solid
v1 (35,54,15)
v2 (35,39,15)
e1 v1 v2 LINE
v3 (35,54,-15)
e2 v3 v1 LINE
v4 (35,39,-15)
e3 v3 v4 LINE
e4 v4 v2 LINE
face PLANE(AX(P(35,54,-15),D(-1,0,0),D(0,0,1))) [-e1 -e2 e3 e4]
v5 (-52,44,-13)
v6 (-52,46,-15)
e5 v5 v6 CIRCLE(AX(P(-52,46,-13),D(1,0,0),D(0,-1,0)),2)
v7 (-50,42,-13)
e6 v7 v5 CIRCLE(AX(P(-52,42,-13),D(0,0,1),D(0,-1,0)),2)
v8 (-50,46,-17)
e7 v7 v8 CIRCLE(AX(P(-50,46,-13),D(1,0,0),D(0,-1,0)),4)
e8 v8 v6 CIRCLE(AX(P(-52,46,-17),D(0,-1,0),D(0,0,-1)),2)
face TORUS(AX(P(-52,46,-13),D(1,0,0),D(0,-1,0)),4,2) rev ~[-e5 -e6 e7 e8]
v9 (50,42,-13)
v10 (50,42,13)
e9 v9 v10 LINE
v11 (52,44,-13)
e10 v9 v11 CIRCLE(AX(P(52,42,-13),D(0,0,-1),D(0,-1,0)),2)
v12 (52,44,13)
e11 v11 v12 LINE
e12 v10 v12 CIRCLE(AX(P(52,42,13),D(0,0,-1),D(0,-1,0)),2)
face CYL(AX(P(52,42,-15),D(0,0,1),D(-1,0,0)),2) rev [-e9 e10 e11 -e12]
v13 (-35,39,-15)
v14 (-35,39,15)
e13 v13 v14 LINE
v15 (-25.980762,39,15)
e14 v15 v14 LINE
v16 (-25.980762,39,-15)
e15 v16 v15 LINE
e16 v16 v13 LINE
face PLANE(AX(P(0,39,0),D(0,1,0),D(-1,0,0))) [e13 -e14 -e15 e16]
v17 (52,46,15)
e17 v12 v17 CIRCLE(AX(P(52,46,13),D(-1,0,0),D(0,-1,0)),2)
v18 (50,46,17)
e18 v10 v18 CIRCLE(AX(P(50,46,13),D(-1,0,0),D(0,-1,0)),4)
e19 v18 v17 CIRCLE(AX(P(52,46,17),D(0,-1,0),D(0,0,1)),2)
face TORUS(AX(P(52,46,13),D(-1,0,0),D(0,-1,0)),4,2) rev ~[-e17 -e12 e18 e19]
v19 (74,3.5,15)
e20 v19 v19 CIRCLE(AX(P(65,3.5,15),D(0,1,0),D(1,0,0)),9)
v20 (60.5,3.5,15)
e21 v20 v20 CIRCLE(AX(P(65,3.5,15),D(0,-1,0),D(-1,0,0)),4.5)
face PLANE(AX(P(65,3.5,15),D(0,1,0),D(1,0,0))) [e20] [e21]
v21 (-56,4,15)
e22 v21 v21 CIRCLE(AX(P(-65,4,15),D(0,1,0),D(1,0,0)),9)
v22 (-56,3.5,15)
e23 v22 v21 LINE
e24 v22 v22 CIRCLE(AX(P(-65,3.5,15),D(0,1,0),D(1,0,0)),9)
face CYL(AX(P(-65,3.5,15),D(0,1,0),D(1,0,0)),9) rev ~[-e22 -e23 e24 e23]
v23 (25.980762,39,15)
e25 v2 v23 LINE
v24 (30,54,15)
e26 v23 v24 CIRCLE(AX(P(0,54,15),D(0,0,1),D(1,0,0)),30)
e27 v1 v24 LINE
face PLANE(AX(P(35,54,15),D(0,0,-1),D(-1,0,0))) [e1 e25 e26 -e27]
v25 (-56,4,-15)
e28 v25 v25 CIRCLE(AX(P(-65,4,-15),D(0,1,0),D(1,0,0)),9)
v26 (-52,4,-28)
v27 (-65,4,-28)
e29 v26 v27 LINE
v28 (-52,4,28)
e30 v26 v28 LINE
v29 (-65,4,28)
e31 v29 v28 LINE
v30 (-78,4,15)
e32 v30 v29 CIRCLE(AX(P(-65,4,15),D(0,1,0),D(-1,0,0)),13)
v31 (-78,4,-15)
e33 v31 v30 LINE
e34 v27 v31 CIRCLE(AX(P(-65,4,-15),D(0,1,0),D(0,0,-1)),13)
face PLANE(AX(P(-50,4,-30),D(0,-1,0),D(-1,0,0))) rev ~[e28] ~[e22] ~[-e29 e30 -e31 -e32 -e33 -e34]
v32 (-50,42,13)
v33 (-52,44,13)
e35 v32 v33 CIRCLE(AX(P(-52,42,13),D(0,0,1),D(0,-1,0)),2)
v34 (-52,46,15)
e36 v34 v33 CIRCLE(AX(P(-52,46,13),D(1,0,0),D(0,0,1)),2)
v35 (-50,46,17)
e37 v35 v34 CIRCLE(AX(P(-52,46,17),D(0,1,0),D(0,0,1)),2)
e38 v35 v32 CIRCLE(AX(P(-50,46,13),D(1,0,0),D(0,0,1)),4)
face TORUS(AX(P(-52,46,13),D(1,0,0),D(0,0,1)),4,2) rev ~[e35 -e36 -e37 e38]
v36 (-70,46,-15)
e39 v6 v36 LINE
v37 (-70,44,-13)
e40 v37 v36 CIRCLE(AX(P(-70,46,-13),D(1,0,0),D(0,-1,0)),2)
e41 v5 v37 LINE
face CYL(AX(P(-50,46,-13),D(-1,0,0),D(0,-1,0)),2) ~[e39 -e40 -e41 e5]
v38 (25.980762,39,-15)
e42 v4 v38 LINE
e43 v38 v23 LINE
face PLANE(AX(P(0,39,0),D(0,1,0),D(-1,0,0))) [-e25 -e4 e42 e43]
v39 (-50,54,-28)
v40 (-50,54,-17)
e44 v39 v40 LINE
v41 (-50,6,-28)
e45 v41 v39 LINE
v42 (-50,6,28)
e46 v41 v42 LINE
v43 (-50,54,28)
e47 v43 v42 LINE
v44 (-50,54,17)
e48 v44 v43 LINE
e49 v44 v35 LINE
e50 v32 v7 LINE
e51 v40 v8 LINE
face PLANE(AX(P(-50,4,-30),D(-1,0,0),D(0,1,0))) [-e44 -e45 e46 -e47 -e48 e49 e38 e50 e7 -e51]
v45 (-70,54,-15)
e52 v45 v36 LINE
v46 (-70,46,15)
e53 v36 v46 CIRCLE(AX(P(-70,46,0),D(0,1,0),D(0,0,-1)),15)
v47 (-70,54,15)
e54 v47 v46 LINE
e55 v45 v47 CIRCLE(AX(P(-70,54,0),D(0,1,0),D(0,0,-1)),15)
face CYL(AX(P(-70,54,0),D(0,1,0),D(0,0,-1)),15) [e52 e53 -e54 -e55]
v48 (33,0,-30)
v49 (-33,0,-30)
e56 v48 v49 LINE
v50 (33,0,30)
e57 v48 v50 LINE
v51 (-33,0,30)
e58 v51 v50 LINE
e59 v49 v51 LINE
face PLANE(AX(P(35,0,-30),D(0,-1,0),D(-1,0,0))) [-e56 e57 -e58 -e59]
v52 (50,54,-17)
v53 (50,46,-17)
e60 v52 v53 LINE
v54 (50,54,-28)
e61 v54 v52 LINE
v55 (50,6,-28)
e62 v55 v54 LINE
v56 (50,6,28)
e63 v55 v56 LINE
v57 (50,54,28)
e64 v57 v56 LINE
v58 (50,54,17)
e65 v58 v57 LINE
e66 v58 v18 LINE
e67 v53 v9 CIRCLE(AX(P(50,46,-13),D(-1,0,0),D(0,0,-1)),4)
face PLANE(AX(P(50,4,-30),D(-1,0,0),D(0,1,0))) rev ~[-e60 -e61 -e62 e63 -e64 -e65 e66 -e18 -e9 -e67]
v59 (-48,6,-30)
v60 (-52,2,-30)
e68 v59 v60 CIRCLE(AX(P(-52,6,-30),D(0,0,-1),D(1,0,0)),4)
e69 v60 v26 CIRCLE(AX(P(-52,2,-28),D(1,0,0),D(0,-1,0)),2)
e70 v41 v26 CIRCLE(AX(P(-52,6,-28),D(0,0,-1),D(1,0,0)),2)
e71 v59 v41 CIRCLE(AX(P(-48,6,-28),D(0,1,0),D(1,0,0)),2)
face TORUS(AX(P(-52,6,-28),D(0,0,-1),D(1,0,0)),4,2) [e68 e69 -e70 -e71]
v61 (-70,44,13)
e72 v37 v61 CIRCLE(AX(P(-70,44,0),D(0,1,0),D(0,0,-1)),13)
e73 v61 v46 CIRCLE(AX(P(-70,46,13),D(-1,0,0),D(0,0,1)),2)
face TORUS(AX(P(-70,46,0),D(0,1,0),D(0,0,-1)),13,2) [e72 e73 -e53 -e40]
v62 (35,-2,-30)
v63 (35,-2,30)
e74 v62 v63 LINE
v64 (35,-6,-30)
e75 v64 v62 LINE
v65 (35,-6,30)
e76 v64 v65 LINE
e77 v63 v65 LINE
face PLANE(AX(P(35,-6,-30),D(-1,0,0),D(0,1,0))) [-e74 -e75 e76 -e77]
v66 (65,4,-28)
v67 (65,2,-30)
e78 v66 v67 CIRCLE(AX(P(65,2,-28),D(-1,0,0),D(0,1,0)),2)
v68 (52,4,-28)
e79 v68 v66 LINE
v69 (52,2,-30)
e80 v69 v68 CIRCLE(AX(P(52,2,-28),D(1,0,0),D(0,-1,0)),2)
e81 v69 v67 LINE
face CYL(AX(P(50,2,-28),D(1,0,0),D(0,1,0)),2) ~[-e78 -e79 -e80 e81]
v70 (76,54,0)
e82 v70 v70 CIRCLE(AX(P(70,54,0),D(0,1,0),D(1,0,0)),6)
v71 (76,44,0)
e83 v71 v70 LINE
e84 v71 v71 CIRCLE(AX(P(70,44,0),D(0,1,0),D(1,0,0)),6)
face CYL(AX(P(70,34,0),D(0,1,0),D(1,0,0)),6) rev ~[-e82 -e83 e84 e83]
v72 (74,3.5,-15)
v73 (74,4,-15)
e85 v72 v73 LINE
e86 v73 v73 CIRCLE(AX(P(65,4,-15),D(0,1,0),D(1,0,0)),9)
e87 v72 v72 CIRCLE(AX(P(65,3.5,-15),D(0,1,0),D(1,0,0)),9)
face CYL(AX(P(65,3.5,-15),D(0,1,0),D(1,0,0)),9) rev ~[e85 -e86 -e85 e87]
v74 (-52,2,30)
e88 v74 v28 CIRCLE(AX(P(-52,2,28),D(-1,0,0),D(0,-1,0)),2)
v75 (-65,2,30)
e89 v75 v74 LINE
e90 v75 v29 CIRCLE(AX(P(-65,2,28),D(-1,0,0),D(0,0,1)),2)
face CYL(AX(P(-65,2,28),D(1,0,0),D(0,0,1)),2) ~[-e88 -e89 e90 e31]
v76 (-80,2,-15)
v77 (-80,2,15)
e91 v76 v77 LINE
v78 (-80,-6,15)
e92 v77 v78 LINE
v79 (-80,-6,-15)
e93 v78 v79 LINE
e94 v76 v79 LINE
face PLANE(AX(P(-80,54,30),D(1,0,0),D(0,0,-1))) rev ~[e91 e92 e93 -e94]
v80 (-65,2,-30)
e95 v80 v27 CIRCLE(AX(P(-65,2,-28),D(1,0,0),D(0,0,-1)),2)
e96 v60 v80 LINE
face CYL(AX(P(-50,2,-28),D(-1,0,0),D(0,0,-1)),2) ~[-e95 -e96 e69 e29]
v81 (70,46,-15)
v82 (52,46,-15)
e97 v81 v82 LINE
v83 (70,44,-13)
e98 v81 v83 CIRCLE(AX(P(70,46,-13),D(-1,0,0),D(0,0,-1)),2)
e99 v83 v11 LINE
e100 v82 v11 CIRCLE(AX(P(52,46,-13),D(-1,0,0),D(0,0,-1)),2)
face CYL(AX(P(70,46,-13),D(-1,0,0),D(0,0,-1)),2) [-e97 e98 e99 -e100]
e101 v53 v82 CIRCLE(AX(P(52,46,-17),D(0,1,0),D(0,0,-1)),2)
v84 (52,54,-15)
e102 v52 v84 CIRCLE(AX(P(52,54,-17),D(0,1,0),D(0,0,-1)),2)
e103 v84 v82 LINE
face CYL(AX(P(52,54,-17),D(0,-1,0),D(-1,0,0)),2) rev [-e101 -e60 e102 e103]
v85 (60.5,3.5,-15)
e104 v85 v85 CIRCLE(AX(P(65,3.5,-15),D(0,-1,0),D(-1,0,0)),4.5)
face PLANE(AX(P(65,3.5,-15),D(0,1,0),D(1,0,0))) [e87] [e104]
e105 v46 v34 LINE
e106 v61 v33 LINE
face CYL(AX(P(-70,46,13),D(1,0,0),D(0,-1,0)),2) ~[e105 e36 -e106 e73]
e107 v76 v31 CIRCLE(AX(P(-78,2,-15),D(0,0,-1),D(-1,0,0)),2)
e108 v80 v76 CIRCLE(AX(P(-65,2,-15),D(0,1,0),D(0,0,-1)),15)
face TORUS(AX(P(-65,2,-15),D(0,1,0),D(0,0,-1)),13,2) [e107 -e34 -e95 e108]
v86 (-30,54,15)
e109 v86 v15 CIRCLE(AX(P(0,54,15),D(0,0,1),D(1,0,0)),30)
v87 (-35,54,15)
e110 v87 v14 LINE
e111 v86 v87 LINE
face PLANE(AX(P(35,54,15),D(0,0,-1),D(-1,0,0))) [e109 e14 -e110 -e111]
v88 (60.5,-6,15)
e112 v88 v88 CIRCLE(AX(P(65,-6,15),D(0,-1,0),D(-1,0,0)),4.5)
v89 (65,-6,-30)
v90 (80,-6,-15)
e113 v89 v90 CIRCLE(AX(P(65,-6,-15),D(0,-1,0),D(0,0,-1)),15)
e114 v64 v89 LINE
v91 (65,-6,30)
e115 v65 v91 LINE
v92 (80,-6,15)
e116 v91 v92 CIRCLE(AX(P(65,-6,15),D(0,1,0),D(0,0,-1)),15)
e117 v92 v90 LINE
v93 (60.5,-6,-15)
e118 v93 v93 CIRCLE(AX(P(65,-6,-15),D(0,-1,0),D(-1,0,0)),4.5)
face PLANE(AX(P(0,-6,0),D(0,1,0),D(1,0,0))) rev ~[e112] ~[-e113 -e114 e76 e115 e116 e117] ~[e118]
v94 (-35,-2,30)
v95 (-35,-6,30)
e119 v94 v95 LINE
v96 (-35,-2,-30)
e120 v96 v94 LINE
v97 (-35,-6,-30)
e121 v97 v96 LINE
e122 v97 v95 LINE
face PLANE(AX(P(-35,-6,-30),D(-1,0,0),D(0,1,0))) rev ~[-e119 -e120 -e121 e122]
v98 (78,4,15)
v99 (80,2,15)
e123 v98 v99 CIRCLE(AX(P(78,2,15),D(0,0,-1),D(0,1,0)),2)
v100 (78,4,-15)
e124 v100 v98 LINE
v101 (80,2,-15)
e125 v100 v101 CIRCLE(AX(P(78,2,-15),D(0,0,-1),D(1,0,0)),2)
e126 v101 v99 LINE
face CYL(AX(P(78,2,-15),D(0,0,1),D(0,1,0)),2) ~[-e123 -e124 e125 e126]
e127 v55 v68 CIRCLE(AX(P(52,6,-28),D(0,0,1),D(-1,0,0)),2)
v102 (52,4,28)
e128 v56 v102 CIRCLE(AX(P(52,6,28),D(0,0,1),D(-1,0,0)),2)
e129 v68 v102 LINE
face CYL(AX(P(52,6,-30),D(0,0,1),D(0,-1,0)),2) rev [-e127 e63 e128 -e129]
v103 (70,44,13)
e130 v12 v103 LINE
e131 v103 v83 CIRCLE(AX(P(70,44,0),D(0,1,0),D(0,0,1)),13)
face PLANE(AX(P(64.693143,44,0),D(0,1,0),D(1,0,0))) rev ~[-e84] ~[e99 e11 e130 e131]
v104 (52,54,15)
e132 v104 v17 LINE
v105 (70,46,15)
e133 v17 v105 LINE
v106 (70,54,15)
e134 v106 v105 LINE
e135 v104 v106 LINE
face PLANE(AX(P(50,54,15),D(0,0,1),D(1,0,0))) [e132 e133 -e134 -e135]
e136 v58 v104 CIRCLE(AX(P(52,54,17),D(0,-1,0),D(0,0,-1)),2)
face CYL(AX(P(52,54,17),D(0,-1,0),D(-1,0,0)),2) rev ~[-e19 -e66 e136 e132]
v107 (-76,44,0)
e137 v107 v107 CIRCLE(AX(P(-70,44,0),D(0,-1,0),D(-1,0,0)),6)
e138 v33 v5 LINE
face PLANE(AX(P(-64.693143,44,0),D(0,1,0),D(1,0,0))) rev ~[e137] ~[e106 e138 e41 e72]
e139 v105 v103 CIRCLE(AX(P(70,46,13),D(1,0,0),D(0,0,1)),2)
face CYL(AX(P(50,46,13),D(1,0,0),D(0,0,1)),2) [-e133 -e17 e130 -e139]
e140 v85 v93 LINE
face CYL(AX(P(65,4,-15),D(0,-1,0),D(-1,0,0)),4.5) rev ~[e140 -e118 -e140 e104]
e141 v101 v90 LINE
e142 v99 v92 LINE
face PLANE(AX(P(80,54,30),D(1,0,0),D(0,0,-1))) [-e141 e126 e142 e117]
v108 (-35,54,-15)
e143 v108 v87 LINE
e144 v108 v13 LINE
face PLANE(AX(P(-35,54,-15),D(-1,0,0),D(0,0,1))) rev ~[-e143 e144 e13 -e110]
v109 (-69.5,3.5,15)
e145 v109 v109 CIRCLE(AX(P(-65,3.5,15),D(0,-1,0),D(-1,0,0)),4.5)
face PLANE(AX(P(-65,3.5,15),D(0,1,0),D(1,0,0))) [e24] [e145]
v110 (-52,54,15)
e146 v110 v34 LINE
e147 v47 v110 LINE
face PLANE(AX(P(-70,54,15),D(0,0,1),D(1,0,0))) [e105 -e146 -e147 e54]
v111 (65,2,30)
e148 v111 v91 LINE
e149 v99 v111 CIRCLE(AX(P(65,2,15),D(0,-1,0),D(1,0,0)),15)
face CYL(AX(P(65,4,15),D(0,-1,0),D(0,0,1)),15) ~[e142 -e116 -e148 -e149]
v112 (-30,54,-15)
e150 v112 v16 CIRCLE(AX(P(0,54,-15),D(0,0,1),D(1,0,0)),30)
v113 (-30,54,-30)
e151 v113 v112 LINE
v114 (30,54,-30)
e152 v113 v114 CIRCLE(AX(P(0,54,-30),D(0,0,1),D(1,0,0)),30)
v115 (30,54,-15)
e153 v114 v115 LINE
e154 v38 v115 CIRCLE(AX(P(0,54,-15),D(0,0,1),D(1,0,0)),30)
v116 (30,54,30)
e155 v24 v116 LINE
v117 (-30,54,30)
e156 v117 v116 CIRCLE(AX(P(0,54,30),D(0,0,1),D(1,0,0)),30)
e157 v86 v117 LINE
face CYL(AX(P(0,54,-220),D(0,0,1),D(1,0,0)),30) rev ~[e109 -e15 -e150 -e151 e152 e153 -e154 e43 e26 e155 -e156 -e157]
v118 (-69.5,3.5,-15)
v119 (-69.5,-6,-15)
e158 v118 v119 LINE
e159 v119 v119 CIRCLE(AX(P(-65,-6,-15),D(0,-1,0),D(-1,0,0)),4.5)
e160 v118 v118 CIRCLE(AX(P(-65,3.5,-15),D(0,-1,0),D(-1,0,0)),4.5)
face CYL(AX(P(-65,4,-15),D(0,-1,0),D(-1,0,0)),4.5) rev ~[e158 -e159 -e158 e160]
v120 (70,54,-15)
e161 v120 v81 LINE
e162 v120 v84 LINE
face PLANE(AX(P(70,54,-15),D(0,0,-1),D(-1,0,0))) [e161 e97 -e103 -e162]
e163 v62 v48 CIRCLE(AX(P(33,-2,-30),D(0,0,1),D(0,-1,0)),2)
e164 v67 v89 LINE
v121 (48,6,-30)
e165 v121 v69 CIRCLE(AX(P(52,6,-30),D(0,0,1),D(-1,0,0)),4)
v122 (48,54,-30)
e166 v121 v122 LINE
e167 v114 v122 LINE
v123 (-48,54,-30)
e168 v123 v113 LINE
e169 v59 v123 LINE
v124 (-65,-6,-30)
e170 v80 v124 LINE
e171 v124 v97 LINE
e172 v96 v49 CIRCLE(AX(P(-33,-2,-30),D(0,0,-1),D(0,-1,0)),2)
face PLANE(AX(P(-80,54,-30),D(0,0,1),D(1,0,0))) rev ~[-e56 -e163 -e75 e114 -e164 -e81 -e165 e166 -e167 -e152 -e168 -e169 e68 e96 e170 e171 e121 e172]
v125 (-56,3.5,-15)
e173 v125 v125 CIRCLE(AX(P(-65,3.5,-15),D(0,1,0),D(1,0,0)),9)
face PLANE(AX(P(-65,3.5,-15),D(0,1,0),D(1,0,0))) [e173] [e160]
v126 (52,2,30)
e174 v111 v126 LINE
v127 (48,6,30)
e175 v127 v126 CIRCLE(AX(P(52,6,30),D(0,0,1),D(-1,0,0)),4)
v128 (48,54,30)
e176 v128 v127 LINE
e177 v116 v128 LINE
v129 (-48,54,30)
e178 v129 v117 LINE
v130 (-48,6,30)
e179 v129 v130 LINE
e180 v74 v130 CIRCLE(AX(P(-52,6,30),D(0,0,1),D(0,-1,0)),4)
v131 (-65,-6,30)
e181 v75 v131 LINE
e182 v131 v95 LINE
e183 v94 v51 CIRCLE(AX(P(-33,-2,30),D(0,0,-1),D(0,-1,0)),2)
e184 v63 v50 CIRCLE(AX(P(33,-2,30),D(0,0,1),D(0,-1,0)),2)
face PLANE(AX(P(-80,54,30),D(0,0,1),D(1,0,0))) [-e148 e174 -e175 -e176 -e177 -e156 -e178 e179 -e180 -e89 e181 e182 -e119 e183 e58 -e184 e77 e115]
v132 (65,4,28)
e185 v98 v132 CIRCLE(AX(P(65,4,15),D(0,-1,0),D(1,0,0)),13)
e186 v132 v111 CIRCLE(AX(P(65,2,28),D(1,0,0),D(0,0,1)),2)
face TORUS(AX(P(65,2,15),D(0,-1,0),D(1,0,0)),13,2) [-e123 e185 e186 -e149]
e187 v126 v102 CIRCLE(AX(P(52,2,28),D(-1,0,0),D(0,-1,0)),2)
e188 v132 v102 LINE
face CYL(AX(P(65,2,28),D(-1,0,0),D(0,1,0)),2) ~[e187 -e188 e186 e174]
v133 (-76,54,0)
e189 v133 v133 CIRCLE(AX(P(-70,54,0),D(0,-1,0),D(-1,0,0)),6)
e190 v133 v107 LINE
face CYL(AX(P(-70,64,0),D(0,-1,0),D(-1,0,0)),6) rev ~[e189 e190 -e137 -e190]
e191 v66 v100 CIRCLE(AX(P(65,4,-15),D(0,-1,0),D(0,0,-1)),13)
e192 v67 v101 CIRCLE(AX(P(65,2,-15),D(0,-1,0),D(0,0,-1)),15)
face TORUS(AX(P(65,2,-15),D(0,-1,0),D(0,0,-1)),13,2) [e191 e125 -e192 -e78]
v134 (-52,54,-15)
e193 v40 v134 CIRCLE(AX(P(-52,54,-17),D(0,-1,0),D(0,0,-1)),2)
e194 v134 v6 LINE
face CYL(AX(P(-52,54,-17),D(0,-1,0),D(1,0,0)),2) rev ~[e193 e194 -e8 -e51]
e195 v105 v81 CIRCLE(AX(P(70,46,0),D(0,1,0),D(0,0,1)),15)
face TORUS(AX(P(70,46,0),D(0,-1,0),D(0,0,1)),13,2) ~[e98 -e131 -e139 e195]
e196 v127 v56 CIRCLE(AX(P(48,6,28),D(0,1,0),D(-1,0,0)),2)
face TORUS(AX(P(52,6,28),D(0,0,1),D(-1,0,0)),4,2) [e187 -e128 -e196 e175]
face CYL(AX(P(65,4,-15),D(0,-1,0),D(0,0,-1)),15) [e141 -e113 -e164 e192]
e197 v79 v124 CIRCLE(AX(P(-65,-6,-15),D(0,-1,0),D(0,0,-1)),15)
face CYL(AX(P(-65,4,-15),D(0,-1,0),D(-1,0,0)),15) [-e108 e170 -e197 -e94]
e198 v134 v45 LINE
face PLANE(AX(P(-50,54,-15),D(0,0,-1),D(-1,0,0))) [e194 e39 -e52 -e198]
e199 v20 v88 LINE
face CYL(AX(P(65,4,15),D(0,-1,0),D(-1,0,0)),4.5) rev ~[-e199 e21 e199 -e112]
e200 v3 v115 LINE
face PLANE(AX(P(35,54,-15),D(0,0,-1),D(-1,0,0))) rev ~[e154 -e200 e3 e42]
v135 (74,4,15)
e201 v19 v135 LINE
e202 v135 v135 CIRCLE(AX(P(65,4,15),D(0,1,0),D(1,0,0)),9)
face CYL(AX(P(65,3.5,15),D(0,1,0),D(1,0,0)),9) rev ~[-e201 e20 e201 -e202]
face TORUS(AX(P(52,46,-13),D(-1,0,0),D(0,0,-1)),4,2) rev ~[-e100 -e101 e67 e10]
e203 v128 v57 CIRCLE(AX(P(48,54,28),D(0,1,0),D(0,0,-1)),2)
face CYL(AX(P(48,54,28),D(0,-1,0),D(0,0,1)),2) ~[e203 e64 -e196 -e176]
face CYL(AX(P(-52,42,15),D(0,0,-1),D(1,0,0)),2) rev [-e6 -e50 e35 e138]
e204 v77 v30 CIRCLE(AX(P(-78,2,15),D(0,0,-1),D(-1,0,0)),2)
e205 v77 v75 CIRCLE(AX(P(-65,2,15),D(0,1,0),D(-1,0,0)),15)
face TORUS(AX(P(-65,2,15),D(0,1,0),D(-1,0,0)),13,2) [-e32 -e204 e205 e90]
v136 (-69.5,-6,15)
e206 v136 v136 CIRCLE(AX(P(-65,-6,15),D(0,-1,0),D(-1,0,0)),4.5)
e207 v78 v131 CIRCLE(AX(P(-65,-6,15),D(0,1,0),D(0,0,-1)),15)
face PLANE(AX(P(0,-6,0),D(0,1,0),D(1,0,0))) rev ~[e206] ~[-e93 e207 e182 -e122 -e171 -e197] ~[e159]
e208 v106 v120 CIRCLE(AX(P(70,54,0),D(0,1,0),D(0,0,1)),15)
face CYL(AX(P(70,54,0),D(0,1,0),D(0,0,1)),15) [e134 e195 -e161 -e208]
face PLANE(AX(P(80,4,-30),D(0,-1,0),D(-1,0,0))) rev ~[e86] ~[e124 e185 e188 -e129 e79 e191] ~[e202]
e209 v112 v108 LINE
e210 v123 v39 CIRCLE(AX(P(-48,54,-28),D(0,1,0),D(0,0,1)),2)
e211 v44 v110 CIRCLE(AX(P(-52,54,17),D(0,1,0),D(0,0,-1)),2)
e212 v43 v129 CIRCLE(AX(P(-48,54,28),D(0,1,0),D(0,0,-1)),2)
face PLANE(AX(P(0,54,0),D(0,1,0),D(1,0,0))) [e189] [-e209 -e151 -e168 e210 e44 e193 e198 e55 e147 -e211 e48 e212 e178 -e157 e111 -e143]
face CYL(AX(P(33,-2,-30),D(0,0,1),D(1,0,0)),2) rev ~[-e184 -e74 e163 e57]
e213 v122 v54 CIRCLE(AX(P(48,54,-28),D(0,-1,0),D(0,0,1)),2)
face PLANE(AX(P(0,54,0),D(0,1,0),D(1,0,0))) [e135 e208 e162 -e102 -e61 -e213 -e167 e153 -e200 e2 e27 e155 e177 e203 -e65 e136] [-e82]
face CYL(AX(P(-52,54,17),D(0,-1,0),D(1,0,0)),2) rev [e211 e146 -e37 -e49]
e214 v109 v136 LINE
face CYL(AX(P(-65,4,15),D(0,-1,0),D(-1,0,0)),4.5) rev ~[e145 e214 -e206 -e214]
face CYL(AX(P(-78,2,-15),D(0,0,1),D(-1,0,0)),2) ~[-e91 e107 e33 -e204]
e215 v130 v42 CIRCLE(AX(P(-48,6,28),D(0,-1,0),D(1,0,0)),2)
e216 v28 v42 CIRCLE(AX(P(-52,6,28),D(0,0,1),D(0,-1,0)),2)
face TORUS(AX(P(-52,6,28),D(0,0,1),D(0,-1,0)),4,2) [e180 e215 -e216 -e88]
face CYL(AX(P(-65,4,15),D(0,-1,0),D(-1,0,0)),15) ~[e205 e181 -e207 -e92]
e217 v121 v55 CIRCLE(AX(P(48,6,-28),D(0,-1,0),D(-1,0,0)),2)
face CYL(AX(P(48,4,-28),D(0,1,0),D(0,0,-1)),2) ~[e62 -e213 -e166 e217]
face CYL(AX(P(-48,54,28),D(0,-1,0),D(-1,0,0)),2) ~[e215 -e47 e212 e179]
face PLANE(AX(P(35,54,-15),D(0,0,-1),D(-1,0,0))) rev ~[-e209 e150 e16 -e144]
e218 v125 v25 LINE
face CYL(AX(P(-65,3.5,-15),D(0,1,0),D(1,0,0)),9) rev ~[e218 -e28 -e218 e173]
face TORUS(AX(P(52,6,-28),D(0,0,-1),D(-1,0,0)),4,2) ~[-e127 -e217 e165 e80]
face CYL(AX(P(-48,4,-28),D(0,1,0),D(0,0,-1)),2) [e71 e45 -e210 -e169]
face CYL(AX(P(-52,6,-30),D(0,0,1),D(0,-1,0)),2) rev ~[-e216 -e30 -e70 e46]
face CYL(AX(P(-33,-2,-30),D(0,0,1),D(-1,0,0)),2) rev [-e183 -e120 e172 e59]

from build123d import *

# Parameters (mm, degrees)
SKETCH_1_W                   = 160
SKETCH_1_H                   = 60
EXTRUDE_1_DEPTH              = 60
SKETCH_2_W                   = 30
SKETCH_2_H                   = 50
CUT_EXTRUDE_1_DEPTH          = 114.648581161
SKETCH_3_W                   = 30
SKETCH_3_H                   = 50
CUT_EXTRUDE_2_DEPTH          = 114.648581161
SKETCH_4_W                   = 69.99999994
SKETCH_4_H                   = 6
CUT_EXTRUDE_3_DEPTH          = 114.648581161
EXTRUDE_2_DEPTH              = 10
EXTRUDE_3_DEPTH              = 10
SKETCH_7_W                   = 70.000000048
SKETCH_7_H                   = 30
CUT_EXTRUDE_4_DEPTH          = 15
HOLE_WIZARD_M52_1_D          = 60
HOLE_WIZARD_12_0_12_1_D      = 12
HOLE_WIZARD_12_0_12_1_DEPTH  = 10
HOLE_WIZARD_12_0_12_2_D      = 12
HOLE_WIZARD_12_0_12_2_DEPTH  = 10
HOLE_WIZARD_M8_1_D           = 9
HOLE_WIZARD_M8_1_DEPTH       = 10
HOLE_WIZARD_M8_1_CBORE_D     = 18
HOLE_WIZARD_M8_1_CBORE_DEPTH = 0.5
FILLET_1_R                   = 15
FILLET_2_R                   = 2


with BuildPart() as part:
    # 草图1 → 凸台-拉伸1 (new body)
    with BuildSketch(Plane(origin=(0, 54, 0), x_dir=(1, 0, 0), z_dir=(0, 1, 0))):
        Rectangle(SKETCH_1_W, SKETCH_1_H)
    extrude(amount=-EXTRUDE_1_DEPTH)

    # 草图2 → 切除-拉伸1 (cut, through all)
    with BuildSketch(Plane(origin=(0, 0, -30), x_dir=(-1, 0, 0), z_dir=(0, 0, -1))):
        with Locations((-65, 29)):
            Rectangle(SKETCH_2_W, SKETCH_2_H)
    extrude(amount=-CUT_EXTRUDE_1_DEPTH, mode=Mode.SUBTRACT)

    # 草图3 → 切除-拉伸2 (cut, through all)
    with BuildSketch(Plane(origin=(0, 0, -30), x_dir=(-1, 0, 0), z_dir=(0, 0, -1))):
        with Locations((65, 29)):
            Rectangle(SKETCH_3_W, SKETCH_3_H)
    extrude(amount=-CUT_EXTRUDE_2_DEPTH, mode=Mode.SUBTRACT)

    # 草图4 → 切除-拉伸3 (cut, through all)
    with BuildSketch(Plane(origin=(0, 0, -30), x_dir=(-1, 0, 0), z_dir=(0, 0, -1))):
        with Locations((0, -3)):
            Rectangle(SKETCH_4_W, SKETCH_4_H)
    extrude(amount=-CUT_EXTRUDE_3_DEPTH, mode=Mode.SUBTRACT)

    # 草图5 → 凸台-拉伸2 (add)
    with BuildSketch(Plane(origin=(0, 54, 0), x_dir=(1, 0, 0), z_dir=(0, 1, 0))):
        with BuildLine():
            Line((-50, -15), (-50, 15))
            Line((-50, 15), (-70, 15))
            ThreePointArc((-70, 15), (-85, 0), (-70, -15))
            Line((-70, -15), (-50, -15))
        make_face()
    extrude(amount=-EXTRUDE_2_DEPTH)

    # 草图6 → 凸台-拉伸3 (add)
    with BuildSketch(Plane(origin=(0, 54, 0), x_dir=(1, 0, 0), z_dir=(0, 1, 0))):
        with BuildLine():
            Line((50, 15), (50, -15))
            Line((50, -15), (70, -15))
            ThreePointArc((70, -15), (85, 0), (70, 15))
            Line((70, 15), (50, 15))
        make_face()
    extrude(amount=-EXTRUDE_3_DEPTH)

    # 草图7 → 切除-拉伸4 (cut)
    with BuildSketch(Plane(origin=(0, 54, 0), x_dir=(-1, 0, 0), z_dir=(0, 1, 0))):
        Rectangle(SKETCH_7_W, SKETCH_7_H)
    extrude(amount=-CUT_EXTRUDE_4_DEPTH, mode=Mode.SUBTRACT)

    # M52 间隙孔1 (through all)
    with Locations(Plane(origin=(0, 0, -30), x_dir=(-1, 0, 0), z_dir=(0, 0, -1))):
        with Locations((0, 54)):
            Hole(HOLE_WIZARD_M52_1_D / 2)

    # Ø12.0 (12) 直径孔1
    with Locations(Plane(origin=(0, 44, 0), x_dir=(-1, 0, 0), z_dir=(0, -1, 0))):
        with Locations((-70, 0)):
            Hole(HOLE_WIZARD_12_0_12_1_D / 2, depth=HOLE_WIZARD_12_0_12_1_DEPTH)

    # Ø12.0 (12) 直径孔2
    with Locations(Plane(origin=(0, 54, 0), x_dir=(1, 0, 0), z_dir=(0, 1, 0))):
        with Locations((-70, 0)):
            Hole(HOLE_WIZARD_12_0_12_2_D / 2, depth=HOLE_WIZARD_12_0_12_2_DEPTH)

    # M8 六角头螺栓的柱形沉头孔1
    with Locations(Plane(origin=(0, 4, 0), x_dir=(1, 0, 0), z_dir=(0, 1, 0))):
        with Locations((-65, -15), (-65, 15), (65, 15), (65, -15)):
            CounterBoreHole(HOLE_WIZARD_M8_1_D / 2, HOLE_WIZARD_M8_1_CBORE_D / 2, HOLE_WIZARD_M8_1_CBORE_DEPTH, depth=HOLE_WIZARD_M8_1_DEPTH)

    # 圆角1
    fillet_1_edges = [part.edges().sort_by_distance(p)[0] for p in [
        (80, -1, 30),
        (-80, -1, 30),
        (-80, -1, -30),
        (80, -1, -30),
    ]]
    fillet(fillet_1_edges, radius=FILLET_1_R)

    # 圆角2
    fillet_2_edges = [part.edges().sort_by_distance(p)[0] for p in [
        (80, 4, 0),
        (57.5, 4, -30),
        (57.5, 4, 30),
        (75.606601718, 4, 25.606601718),
        (75.606601718, 4, -25.606601718),
        (-80, 4, 0),
        (-75.606601718, 4, 25.606601718),
        (-75.606601718, 4, -25.606601718),
        (50, 4, 0),
        (50, 29, 30),
        (50, 29, -30),
        (-57.5, 4, 30),
        (-50, 29, 30),
        (-50, 4, 0),
        (-50, 29, -30),
        (-57.5, 4, -30),
        (34.99999997, 0, 0),
        (-34.99999997, 0, 0),
        (-60, 44, 15),
        (-50, 49, 15),
        (-85, 44, 0),
        (-60, 44, -15),
        (-50, 44, 0),
        (-50, 49, -15),
        (60, 44, -15),
        (50, 49, -15),
        (85, 44, 0),
        (60, 44, 15),
        (50, 44, 0),
        (50, 49, 15),
    ]]
    fillet(fillet_2_edges, radius=FILLET_2_R)


solid = part.part
